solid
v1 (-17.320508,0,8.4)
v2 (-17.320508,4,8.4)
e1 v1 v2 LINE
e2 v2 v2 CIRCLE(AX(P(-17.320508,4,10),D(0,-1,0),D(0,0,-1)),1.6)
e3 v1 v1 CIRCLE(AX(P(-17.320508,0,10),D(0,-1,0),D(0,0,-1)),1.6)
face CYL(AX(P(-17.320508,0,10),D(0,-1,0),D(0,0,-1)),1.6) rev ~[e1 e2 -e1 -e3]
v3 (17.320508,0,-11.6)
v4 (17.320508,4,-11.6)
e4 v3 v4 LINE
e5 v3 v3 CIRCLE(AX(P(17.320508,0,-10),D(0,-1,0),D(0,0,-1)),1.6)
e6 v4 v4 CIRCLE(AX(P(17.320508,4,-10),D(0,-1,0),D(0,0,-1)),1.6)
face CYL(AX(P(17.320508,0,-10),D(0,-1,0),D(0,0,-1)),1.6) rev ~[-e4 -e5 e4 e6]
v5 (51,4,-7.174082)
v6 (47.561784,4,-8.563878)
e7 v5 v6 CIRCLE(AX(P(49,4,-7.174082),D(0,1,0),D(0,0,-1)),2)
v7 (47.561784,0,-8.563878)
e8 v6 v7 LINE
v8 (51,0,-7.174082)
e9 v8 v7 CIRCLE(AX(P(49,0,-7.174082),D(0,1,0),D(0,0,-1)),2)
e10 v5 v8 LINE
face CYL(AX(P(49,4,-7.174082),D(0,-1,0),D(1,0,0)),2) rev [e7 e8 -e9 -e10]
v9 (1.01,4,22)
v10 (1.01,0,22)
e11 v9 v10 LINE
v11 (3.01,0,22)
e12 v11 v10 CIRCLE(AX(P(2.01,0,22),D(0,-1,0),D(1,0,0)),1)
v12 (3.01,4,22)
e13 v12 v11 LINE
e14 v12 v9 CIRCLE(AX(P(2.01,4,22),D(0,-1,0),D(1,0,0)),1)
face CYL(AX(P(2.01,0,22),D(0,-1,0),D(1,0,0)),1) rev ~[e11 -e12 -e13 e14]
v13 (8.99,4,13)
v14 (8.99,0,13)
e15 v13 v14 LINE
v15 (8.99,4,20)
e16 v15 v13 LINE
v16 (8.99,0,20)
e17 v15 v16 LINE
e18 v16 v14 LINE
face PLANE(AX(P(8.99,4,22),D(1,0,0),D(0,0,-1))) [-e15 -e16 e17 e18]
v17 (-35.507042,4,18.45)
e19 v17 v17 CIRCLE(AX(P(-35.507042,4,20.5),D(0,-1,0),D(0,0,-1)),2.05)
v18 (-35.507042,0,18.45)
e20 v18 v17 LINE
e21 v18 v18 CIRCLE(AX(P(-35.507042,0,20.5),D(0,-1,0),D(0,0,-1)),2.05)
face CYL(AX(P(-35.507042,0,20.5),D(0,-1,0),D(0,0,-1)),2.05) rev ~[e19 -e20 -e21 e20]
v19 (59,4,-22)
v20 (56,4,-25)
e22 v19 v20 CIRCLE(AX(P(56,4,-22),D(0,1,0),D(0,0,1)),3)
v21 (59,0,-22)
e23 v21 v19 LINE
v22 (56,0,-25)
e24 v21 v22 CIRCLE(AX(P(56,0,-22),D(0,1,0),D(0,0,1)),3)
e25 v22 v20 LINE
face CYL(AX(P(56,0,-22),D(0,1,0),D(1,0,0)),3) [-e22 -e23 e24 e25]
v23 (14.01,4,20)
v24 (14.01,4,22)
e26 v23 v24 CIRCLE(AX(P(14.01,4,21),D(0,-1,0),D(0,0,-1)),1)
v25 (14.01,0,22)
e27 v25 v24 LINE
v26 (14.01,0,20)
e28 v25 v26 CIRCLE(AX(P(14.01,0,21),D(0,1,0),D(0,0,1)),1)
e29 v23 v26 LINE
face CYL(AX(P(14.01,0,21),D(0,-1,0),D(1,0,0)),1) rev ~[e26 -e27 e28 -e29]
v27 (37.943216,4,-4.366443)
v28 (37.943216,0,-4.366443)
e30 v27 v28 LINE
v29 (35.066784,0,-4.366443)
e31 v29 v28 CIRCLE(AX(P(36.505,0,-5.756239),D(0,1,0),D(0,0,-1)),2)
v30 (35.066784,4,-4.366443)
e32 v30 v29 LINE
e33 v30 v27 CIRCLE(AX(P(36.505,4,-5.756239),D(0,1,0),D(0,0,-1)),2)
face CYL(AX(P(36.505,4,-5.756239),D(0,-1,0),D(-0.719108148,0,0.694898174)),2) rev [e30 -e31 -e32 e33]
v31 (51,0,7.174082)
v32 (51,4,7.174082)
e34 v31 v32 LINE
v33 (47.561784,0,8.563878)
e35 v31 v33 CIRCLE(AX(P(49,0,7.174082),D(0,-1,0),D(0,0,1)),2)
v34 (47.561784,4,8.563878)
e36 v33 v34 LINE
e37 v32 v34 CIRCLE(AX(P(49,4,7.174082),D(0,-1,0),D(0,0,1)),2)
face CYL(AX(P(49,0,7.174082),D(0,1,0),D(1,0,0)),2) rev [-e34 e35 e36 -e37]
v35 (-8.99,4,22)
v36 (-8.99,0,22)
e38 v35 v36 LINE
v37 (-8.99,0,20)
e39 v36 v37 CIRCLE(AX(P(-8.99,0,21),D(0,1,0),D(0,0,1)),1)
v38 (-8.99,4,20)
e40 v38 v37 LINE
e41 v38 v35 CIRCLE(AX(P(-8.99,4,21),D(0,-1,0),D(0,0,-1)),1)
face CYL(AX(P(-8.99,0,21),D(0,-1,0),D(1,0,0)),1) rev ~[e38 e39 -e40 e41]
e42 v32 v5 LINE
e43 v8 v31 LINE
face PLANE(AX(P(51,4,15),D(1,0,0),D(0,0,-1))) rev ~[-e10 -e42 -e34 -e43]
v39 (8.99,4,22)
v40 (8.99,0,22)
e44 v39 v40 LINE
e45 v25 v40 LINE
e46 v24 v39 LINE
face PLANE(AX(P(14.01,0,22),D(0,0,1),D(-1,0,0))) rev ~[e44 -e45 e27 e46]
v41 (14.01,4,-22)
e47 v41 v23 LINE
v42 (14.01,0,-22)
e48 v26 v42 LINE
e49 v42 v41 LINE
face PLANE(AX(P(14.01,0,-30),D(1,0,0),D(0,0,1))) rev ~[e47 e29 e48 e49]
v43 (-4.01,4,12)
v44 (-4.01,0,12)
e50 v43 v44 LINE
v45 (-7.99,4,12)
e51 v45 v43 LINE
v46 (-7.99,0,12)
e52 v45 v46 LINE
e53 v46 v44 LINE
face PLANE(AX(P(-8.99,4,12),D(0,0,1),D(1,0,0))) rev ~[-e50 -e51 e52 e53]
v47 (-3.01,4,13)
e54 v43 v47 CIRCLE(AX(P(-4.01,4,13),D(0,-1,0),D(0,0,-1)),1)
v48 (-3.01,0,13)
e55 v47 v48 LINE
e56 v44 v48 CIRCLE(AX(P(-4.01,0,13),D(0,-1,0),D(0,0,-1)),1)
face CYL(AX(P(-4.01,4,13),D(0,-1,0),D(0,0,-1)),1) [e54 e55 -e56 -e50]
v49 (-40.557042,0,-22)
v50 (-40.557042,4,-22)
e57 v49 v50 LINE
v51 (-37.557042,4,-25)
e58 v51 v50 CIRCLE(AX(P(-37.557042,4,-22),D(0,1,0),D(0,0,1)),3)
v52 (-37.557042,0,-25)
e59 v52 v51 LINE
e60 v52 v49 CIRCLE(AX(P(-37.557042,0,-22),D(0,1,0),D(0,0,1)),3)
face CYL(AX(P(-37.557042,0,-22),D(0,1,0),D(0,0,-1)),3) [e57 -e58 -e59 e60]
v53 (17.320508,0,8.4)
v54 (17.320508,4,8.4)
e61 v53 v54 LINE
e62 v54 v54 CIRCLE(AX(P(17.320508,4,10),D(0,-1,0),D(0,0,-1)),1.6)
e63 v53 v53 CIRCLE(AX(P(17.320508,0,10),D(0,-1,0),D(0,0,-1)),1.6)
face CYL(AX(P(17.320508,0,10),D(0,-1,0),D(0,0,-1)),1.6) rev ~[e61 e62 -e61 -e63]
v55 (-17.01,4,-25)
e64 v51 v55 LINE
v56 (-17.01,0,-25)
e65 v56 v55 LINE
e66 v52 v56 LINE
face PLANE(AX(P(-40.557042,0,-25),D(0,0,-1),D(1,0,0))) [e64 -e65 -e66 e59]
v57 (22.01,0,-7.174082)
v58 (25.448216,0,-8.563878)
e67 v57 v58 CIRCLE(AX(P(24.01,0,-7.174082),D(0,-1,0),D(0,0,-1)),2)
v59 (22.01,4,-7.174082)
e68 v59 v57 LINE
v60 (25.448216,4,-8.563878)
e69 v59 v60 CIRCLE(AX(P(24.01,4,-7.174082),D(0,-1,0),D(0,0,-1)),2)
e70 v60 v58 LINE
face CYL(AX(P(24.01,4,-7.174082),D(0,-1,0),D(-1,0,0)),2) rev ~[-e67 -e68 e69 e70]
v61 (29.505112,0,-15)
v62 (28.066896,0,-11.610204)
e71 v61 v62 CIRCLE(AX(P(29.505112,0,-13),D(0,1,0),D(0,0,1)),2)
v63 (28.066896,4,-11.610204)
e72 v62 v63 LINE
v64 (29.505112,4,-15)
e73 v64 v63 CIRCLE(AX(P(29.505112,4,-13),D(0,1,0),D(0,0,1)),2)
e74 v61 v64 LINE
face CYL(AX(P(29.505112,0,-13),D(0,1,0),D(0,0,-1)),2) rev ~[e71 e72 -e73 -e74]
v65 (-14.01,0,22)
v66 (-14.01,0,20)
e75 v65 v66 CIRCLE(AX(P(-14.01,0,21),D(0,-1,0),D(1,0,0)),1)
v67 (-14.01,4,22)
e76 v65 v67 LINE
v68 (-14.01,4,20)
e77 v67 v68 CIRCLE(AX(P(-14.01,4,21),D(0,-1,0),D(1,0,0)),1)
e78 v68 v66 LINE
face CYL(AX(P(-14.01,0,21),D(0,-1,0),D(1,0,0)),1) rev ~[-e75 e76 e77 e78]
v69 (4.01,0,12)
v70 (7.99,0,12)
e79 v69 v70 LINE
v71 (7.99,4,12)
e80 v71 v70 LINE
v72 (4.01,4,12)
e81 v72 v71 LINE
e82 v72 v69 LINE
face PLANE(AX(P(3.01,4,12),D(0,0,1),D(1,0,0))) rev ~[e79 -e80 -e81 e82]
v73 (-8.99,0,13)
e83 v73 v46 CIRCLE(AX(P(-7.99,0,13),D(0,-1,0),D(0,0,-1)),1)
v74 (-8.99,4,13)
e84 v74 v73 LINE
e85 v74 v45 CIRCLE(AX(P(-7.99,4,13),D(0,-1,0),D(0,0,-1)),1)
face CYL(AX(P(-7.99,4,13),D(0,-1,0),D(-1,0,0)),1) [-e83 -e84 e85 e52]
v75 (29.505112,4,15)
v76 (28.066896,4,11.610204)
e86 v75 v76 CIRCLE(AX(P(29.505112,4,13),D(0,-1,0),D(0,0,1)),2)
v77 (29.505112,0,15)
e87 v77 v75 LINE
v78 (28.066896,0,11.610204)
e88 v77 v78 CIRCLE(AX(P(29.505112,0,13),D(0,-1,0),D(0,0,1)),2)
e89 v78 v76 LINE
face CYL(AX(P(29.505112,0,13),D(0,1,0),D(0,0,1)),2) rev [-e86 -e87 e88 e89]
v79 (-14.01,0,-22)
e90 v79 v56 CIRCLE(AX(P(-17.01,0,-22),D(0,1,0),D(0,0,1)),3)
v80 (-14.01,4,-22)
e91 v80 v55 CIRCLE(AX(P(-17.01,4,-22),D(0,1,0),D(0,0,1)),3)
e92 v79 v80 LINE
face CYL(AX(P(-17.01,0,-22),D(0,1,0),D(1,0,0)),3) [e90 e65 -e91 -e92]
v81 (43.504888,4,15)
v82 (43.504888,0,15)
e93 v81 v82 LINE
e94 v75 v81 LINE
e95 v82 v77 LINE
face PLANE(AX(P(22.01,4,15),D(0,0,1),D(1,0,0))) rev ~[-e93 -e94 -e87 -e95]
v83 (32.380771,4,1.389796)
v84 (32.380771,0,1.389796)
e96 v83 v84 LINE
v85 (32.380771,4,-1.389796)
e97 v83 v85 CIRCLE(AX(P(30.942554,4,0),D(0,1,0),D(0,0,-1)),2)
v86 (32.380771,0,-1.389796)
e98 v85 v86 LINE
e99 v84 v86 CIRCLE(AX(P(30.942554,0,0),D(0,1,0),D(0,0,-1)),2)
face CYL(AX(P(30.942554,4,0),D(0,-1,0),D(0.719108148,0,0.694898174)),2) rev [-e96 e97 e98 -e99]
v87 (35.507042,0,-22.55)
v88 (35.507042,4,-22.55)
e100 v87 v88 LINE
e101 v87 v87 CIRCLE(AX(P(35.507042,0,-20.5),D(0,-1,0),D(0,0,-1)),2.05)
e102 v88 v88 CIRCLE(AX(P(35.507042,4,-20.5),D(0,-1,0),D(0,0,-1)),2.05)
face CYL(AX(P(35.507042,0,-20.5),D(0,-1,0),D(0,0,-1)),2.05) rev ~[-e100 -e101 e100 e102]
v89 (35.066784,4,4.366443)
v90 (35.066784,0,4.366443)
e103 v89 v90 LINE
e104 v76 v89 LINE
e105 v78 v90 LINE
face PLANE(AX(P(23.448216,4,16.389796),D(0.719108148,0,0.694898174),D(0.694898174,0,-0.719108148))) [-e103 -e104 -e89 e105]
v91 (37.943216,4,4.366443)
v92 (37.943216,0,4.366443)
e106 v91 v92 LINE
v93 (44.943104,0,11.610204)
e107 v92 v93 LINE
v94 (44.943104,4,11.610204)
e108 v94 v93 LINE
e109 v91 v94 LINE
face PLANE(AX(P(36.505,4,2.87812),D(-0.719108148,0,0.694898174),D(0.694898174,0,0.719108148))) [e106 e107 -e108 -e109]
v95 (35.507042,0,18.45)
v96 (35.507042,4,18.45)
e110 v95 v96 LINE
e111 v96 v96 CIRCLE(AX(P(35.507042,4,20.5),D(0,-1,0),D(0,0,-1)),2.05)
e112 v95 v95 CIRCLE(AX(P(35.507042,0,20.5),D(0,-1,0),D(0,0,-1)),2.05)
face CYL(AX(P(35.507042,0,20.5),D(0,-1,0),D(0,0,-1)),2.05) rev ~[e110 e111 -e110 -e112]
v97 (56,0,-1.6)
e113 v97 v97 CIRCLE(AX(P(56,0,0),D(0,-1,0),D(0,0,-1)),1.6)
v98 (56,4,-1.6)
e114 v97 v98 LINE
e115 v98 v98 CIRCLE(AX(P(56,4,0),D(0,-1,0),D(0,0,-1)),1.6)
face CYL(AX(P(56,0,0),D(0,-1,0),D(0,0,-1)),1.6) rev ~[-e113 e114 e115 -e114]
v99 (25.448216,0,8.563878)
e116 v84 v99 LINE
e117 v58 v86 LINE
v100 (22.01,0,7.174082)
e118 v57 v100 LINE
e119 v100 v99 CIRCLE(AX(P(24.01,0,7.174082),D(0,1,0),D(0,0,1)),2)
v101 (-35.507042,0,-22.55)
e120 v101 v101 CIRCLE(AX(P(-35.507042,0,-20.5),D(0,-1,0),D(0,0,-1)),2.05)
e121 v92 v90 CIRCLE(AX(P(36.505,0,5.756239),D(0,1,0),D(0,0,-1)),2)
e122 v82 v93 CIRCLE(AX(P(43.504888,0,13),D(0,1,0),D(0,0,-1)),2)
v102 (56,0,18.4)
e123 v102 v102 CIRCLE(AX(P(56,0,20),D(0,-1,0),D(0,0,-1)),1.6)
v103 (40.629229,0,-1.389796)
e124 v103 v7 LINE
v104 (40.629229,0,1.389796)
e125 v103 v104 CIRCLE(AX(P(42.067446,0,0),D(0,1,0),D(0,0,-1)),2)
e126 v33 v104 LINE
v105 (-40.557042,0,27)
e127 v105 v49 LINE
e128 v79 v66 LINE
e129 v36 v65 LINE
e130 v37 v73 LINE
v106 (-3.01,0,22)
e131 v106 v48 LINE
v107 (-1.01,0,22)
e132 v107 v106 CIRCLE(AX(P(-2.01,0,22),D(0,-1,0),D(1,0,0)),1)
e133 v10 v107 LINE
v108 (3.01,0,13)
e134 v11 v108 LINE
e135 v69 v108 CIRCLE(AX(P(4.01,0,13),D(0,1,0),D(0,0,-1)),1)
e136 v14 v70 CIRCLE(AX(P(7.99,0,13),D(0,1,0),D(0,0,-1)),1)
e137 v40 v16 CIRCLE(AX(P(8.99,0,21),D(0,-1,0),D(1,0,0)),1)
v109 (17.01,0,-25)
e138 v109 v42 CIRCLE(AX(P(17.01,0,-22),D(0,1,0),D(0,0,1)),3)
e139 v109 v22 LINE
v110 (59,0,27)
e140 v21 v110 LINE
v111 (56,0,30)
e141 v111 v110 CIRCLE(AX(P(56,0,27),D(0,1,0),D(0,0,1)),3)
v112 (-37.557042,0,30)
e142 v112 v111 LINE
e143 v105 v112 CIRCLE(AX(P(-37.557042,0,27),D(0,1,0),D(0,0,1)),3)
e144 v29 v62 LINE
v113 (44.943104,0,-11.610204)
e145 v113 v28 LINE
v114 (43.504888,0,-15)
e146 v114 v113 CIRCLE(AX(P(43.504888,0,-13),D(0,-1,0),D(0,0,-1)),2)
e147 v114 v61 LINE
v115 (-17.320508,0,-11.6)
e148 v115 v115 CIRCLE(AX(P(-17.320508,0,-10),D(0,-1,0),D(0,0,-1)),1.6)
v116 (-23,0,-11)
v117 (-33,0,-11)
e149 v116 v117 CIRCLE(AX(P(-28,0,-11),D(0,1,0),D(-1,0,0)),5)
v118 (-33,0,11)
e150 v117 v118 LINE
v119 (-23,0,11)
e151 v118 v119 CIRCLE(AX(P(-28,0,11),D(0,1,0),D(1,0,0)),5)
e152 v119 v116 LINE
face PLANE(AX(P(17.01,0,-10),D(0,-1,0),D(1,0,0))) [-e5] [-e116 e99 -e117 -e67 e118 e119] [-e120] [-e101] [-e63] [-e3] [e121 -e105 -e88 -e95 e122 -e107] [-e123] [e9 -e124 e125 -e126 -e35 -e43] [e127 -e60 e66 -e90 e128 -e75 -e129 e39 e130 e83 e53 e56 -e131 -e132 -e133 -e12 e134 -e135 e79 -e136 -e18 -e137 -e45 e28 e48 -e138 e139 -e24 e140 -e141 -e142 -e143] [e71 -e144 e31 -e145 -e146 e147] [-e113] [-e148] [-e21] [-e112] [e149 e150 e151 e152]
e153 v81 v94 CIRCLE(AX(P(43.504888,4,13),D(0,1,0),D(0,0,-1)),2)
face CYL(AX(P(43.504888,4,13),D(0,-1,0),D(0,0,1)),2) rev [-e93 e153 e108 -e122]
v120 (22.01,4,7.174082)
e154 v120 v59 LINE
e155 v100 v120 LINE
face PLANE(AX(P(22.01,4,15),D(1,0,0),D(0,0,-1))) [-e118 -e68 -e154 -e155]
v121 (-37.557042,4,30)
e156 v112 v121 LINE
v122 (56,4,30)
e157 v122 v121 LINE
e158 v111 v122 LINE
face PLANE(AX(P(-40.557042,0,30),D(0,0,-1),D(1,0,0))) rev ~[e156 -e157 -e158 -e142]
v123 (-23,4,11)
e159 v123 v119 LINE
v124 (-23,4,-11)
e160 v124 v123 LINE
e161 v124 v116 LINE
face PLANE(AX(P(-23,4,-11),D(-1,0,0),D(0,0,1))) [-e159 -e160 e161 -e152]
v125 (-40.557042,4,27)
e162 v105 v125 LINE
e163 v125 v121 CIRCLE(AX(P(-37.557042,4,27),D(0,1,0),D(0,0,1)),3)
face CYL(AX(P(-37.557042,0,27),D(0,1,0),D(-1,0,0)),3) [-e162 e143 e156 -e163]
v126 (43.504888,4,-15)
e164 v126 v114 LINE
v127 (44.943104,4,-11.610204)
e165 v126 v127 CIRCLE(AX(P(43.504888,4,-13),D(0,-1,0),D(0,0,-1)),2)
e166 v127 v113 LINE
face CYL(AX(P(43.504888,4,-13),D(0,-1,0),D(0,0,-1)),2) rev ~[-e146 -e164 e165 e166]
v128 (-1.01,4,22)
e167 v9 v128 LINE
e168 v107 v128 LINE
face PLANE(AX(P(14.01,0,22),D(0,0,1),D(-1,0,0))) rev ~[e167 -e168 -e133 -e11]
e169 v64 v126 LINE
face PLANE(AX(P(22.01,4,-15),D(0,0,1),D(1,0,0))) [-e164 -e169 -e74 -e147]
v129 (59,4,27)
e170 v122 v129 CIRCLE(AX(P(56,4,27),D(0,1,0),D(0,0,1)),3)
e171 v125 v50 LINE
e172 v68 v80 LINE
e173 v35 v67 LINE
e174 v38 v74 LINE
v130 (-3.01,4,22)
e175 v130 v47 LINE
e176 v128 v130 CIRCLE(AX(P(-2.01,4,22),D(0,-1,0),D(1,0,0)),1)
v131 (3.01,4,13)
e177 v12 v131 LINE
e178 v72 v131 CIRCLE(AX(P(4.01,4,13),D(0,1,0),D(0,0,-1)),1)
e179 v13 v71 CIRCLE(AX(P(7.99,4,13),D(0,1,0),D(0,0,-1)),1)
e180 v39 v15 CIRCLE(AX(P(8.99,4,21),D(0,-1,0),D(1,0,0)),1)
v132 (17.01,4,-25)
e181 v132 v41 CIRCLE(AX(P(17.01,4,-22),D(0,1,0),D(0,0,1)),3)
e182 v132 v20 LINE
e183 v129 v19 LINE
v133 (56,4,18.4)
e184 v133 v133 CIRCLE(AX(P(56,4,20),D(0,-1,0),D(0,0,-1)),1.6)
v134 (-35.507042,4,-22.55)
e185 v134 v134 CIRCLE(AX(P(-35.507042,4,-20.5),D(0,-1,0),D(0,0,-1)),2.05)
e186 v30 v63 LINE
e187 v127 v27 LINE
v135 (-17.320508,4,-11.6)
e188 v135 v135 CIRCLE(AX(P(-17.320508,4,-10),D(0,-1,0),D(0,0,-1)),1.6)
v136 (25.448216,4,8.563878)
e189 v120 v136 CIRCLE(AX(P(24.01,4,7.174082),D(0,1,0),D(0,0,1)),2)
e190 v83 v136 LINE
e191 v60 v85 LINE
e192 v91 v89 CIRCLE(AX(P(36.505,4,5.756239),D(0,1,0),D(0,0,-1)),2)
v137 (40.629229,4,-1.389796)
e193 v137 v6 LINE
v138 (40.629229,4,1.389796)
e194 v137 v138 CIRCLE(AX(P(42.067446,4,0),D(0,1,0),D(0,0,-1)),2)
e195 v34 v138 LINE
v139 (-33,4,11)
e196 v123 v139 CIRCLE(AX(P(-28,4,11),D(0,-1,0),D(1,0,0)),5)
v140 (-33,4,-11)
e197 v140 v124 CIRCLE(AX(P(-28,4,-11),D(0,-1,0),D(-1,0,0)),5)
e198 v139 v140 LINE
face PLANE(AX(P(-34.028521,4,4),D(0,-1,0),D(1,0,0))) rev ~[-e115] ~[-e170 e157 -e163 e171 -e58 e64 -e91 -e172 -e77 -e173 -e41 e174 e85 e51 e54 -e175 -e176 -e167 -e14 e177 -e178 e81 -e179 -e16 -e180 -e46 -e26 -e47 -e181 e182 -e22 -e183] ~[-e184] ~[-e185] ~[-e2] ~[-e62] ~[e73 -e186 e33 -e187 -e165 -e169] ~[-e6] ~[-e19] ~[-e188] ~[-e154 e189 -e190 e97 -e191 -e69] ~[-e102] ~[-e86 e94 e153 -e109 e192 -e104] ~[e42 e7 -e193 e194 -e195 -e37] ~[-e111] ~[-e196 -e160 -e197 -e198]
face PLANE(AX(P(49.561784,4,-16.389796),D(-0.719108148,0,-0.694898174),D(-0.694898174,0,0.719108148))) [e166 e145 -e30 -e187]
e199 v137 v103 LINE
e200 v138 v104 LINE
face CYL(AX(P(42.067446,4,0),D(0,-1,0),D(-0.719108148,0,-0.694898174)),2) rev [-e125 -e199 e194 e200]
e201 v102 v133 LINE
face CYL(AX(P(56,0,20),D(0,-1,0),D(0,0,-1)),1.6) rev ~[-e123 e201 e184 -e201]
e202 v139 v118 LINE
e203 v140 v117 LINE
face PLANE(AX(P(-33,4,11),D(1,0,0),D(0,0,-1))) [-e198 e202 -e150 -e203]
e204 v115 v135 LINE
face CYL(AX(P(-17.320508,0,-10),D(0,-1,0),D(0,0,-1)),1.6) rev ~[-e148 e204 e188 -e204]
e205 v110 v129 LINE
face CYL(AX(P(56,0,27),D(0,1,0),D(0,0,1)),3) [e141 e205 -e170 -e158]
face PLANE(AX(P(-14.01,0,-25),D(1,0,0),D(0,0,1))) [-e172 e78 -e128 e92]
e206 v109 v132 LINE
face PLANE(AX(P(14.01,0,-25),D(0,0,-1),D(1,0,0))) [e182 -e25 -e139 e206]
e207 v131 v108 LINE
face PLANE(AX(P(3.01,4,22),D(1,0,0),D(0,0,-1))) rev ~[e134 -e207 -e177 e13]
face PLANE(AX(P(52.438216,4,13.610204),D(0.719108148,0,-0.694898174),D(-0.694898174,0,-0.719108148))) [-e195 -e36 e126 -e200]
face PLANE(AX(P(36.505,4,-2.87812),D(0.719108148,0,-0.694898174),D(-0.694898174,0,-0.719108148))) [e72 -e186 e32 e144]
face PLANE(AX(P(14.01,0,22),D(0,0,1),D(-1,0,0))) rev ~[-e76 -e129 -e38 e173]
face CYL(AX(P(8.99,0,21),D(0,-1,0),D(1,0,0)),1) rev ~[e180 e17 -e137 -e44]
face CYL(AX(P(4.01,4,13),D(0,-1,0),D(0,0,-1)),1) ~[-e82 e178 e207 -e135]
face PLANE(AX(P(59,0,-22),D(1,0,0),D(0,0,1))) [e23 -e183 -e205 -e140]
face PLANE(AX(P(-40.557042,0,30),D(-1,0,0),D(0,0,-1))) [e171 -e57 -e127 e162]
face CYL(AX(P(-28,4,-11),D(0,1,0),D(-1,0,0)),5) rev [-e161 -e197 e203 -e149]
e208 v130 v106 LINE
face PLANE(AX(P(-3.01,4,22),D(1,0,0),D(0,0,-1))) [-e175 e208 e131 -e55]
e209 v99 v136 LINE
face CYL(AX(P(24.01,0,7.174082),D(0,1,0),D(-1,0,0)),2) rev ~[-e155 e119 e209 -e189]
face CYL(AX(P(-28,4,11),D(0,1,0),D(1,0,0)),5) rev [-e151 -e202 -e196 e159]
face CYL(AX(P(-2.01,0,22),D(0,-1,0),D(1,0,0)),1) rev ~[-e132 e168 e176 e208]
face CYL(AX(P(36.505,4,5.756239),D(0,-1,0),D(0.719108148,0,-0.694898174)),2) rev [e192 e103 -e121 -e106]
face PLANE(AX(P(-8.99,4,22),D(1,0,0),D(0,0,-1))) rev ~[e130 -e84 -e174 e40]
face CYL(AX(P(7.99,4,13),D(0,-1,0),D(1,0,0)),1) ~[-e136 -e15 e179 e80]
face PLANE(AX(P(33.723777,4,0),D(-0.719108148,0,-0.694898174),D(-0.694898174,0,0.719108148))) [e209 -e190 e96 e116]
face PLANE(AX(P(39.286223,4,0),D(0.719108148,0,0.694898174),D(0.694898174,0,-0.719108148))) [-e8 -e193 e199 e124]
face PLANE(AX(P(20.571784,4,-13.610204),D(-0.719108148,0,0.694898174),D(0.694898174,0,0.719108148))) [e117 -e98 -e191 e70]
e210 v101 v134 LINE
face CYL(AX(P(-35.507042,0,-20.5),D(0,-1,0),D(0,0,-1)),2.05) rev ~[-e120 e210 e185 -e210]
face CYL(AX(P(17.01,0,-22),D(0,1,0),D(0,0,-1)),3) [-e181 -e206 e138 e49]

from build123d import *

# Parameters (mm, degrees)
EXTRUDE_1_DEPTH     = 4
SKETCH_2_W          = 5.98
SKETCH_2_H          = 10
EXTRUDE_2_DEPTH     = 4
SKETCH_4_R          = 1
SKETCH_4_W          = 55
SKETCH_4_H          = 8
CUT_EXTRUDE_1_DEPTH = 4
SKETCH_5_R          = 1.6
CUT_EXTRUDE_2_DEPTH = 4
SKETCH_6_W          = 31.5
SKETCH_6_H          = 52
EXTRUDE_3_DEPTH     = 4
SKETCH_7_R          = 1.6
CUT_EXTRUDE_3_DEPTH = 4
SKETCH_8_W          = 13.057041555
SKETCH_8_H          = 52
SKETCH_8_W_2        = 44.99
SKETCH_8_H_2        = 3
EXTRUDE_4_DEPTH     = 4
SKETCH_10_R         = 2.05
CUT_EXTRUDE_4_DEPTH = 10
FILLET_1_R          = 1
FILLET_2_R          = 3
SKETCH_11_W         = 28.99
SKETCH_11_H         = 30
CUT_EXTRUDE_5_DEPTH = 10
EXTRUDE_1_2_DEPTH   = 4
FILLET_3_R          = 2
SKETCH_13_R         = 1.6
EXTRUDE_5_DEPTH     = 4
SKETCH_15_R         = 1.6
CUT_EXTRUDE_6_DEPTH = 4


with BuildPart() as part:
    # 草图1 → Extrude 1 (new body)
    with BuildSketch(Plane(origin=(0, 0, 0), x_dir=(1, 0, 0), z_dir=(0, 1, 0))):
        Polygon((-14.01, 30), (-27.5, 30), (-27.5, -30), (27.5, -30), (27.5, 30), (14.01, 30), (14.01, 22), (14.01, -22), (-14.01, -22), (-14.01, 22), align=None)
    extrude(amount=EXTRUDE_1_DEPTH)

    # 草图2 → 凸台-拉伸2 (add)
    with BuildSketch(Plane(origin=(0, 4, 0), x_dir=(1, 0, 0), z_dir=(0, 1, 0))):
        with Locations((-6, -17)):
            Rectangle(SKETCH_2_W, SKETCH_2_H)
        with Locations((6, -17)):
            Rectangle(SKETCH_2_W, SKETCH_2_H)
    extrude(amount=-EXTRUDE_2_DEPTH)

    # 草图4 → 切除-拉伸1 (cut)
    with BuildSketch(Plane.XZ):
        with Locations((8.99, 21)):
            Circle(SKETCH_4_R)
        with Locations((14.01, 21)):
            Circle(SKETCH_4_R)
        with Locations((-2.01, 22)):
            Circle(SKETCH_4_R)
        with Locations((2.01, 22)):
            Circle(SKETCH_4_R)
        with Locations((-14.01, 21)):
            Circle(SKETCH_4_R)
        with Locations((-8.99, 21)):
            Circle(SKETCH_4_R)
        with Locations((0, -26)):
            Rectangle(SKETCH_4_W, SKETCH_4_H)
    extrude(amount=-CUT_EXTRUDE_1_DEPTH, mode=Mode.SUBTRACT)

    # 草图5 → 切除-拉伸2 (cut)
    with BuildSketch(Plane.XZ):
        with Locations(Location((17.01, 10, 0), (0, 0, 270))):
            Circle(SKETCH_5_R)
        with Locations(Location((17.01, -10, 0), (0, 0, 270))):
            Circle(SKETCH_5_R)
        with Locations(Location((-17.01, -10, 0), (0, 0, 270))):
            Circle(SKETCH_5_R)
        with Locations(Location((-17.01, 10, 0), (0, 0, 270))):
            Circle(SKETCH_5_R)
    extrude(amount=-CUT_EXTRUDE_2_DEPTH, mode=Mode.SUBTRACT)

    # 草图6 → 凸台-拉伸3 (add)
    with BuildSketch(Plane.XZ):
        with Locations((43.25, 4)):
            Rectangle(SKETCH_6_W, SKETCH_6_H)
    extrude(amount=-EXTRUDE_3_DEPTH)

    # 草图7 → 切除-拉伸3 (cut)
    with BuildSketch(Plane.XZ):
        with Locations(Location((56, 20, 0), (0, 0, 270))):
            Circle(SKETCH_7_R)
        with Locations(Location((56, 0, 0), (0, 0, 270))):
            Circle(SKETCH_7_R)
    extrude(amount=-CUT_EXTRUDE_3_DEPTH, mode=Mode.SUBTRACT)

    # 草图8 → 凸台-拉伸4 (add)
    with BuildSketch(Plane.XZ):
        with Locations((-34.028520778, 4)):
            Rectangle(SKETCH_8_W, SKETCH_8_H)
        Polygon((-14.01, -25), (-14.01, -22), (-27.5, -22), (-40.557041555, -22), (-40.557041555, -25), align=None)
        with Locations((36.505, -23.5)):
            Rectangle(SKETCH_8_W_2, SKETCH_8_H_2)
    extrude(amount=-EXTRUDE_4_DEPTH)

    # 草图10 → 切除-拉伸4 (cut)
    with BuildSketch(Plane.XZ):
        with Locations(Location((-35.507041555, -20.5, 0), (0, 0, 270))):
            Circle(SKETCH_10_R)
        with Locations(Location((-35.507041555, 20.5, 0), (0, 0, 270))):
            Circle(SKETCH_10_R)
        with Locations(Location((35.507041555, 20.5, 0), (0, 0, 270))):
            Circle(SKETCH_10_R)
        with Locations(Location((35.507041555, -20.5, 0), (0, 0, 270))):
            Circle(SKETCH_10_R)
    extrude(amount=-CUT_EXTRUDE_4_DEPTH, mode=Mode.SUBTRACT)

    # 圆角1
    fillet_1_edges = [part.edges().sort_by_distance(p)[0] for p in [
        (-8.99, 2, 12),
        (-3.01, 2, 12),
        (3.01, 2, 12),
        (8.99, 2, 12),
    ]]
    fillet(fillet_1_edges, radius=FILLET_1_R)

    # 圆角2
    fillet_2_edges = [part.edges().sort_by_distance(p)[0] for p in [
        (59, 2, 30),
        (-40.557041555, 2, -25),
        (-14.01, 2, -25),
        (-40.557041555, 2, 30),
        (14.01, 2, -25),
        (59, 2, -25),
    ]]
    fillet(fillet_2_edges, radius=FILLET_2_R)

    # 草图11 → 切除-拉伸5 (cut)
    with BuildSketch(Plane(origin=(0, 4, 0), x_dir=(1, 0, 0), z_dir=(0, 1, 0))):
        with Locations((36.505, 0)):
            Rectangle(SKETCH_11_W, SKETCH_11_H)
        with BuildLine():
            Line((-23, 11), (-23, -11))
            ThreePointArc((-23, -11), (-28, -16), (-33, -11))
            Line((-33, -11), (-33, 11))
            ThreePointArc((-33, 11), (-28, 16), (-23, 11))
        make_face()
    extrude(amount=-CUT_EXTRUDE_5_DEPTH, mode=Mode.SUBTRACT)

    # 草图12 → Extrude 1 2 (add)
    with BuildSketch(Plane(origin=(0, 4, 0), x_dir=(1, 0, 0), z_dir=(0, 1, 0))):
        Polygon((20.571783704, 13.610203653), (49.561783704, -16.389796347), (52.438216296, -13.610203653), (23.448216296, 16.389796347), align=None)
        Polygon((23.448216296, -16.389796347), (52.438216296, 13.610203653), (49.561783704, 16.389796347), (20.571783704, -13.610203653), align=None)
    extrude(amount=-EXTRUDE_1_2_DEPTH)

    # 圆角3
    fillet_3_edges = [part.edges().sort_by_distance(p)[0] for p in [
        (24.791222833, 2, 15),
        (48.218777167, 2, 15),
        (51, 2, -12.121880477),
        (51, 2, 12.121880477),
        (48.218777167, 2, -15),
        (24.791222833, 2, -15),
        (22.01, 2, 12.121880477),
        (22.01, 2, -12.121880477),
        (33.723777167, 2, 0),
        (36.505, 2, -2.878119523),
        (39.286222833, 2, 0),
        (36.505, 2, 2.878119523),
    ]]
    fillet(fillet_3_edges, radius=FILLET_3_R)

    # 草图13 → 凸台-拉伸5 (add)
    with BuildSketch(Plane.XZ):
        with Locations((17.01, -10)):
            Circle(SKETCH_13_R)
        with Locations((17.01, 10)):
            Circle(SKETCH_13_R)
        with Locations((-17.01, -10)):
            Circle(SKETCH_13_R)
        with Locations((-17.01, 10)):
            Circle(SKETCH_13_R)
    extrude(amount=-EXTRUDE_5_DEPTH)

    # 草图15 → 切除-拉伸6 (cut)
    with BuildSketch(Plane.XZ):
        with Locations(Location((-17.320508076, -10, 0), (0, 0, 270))):
            Circle(SKETCH_15_R)
        with Locations(Location((-17.320508076, 10, 0), (0, 0, 270))):
            Circle(SKETCH_15_R)
        with Locations(Location((17.320508076, 10, 0), (0, 0, 270))):
            Circle(SKETCH_15_R)
        with Locations(Location((17.320508076, -10, 0), (0, 0, 270))):
            Circle(SKETCH_15_R)
    extrude(amount=-CUT_EXTRUDE_6_DEPTH, mode=Mode.SUBTRACT)


solid = part.part
